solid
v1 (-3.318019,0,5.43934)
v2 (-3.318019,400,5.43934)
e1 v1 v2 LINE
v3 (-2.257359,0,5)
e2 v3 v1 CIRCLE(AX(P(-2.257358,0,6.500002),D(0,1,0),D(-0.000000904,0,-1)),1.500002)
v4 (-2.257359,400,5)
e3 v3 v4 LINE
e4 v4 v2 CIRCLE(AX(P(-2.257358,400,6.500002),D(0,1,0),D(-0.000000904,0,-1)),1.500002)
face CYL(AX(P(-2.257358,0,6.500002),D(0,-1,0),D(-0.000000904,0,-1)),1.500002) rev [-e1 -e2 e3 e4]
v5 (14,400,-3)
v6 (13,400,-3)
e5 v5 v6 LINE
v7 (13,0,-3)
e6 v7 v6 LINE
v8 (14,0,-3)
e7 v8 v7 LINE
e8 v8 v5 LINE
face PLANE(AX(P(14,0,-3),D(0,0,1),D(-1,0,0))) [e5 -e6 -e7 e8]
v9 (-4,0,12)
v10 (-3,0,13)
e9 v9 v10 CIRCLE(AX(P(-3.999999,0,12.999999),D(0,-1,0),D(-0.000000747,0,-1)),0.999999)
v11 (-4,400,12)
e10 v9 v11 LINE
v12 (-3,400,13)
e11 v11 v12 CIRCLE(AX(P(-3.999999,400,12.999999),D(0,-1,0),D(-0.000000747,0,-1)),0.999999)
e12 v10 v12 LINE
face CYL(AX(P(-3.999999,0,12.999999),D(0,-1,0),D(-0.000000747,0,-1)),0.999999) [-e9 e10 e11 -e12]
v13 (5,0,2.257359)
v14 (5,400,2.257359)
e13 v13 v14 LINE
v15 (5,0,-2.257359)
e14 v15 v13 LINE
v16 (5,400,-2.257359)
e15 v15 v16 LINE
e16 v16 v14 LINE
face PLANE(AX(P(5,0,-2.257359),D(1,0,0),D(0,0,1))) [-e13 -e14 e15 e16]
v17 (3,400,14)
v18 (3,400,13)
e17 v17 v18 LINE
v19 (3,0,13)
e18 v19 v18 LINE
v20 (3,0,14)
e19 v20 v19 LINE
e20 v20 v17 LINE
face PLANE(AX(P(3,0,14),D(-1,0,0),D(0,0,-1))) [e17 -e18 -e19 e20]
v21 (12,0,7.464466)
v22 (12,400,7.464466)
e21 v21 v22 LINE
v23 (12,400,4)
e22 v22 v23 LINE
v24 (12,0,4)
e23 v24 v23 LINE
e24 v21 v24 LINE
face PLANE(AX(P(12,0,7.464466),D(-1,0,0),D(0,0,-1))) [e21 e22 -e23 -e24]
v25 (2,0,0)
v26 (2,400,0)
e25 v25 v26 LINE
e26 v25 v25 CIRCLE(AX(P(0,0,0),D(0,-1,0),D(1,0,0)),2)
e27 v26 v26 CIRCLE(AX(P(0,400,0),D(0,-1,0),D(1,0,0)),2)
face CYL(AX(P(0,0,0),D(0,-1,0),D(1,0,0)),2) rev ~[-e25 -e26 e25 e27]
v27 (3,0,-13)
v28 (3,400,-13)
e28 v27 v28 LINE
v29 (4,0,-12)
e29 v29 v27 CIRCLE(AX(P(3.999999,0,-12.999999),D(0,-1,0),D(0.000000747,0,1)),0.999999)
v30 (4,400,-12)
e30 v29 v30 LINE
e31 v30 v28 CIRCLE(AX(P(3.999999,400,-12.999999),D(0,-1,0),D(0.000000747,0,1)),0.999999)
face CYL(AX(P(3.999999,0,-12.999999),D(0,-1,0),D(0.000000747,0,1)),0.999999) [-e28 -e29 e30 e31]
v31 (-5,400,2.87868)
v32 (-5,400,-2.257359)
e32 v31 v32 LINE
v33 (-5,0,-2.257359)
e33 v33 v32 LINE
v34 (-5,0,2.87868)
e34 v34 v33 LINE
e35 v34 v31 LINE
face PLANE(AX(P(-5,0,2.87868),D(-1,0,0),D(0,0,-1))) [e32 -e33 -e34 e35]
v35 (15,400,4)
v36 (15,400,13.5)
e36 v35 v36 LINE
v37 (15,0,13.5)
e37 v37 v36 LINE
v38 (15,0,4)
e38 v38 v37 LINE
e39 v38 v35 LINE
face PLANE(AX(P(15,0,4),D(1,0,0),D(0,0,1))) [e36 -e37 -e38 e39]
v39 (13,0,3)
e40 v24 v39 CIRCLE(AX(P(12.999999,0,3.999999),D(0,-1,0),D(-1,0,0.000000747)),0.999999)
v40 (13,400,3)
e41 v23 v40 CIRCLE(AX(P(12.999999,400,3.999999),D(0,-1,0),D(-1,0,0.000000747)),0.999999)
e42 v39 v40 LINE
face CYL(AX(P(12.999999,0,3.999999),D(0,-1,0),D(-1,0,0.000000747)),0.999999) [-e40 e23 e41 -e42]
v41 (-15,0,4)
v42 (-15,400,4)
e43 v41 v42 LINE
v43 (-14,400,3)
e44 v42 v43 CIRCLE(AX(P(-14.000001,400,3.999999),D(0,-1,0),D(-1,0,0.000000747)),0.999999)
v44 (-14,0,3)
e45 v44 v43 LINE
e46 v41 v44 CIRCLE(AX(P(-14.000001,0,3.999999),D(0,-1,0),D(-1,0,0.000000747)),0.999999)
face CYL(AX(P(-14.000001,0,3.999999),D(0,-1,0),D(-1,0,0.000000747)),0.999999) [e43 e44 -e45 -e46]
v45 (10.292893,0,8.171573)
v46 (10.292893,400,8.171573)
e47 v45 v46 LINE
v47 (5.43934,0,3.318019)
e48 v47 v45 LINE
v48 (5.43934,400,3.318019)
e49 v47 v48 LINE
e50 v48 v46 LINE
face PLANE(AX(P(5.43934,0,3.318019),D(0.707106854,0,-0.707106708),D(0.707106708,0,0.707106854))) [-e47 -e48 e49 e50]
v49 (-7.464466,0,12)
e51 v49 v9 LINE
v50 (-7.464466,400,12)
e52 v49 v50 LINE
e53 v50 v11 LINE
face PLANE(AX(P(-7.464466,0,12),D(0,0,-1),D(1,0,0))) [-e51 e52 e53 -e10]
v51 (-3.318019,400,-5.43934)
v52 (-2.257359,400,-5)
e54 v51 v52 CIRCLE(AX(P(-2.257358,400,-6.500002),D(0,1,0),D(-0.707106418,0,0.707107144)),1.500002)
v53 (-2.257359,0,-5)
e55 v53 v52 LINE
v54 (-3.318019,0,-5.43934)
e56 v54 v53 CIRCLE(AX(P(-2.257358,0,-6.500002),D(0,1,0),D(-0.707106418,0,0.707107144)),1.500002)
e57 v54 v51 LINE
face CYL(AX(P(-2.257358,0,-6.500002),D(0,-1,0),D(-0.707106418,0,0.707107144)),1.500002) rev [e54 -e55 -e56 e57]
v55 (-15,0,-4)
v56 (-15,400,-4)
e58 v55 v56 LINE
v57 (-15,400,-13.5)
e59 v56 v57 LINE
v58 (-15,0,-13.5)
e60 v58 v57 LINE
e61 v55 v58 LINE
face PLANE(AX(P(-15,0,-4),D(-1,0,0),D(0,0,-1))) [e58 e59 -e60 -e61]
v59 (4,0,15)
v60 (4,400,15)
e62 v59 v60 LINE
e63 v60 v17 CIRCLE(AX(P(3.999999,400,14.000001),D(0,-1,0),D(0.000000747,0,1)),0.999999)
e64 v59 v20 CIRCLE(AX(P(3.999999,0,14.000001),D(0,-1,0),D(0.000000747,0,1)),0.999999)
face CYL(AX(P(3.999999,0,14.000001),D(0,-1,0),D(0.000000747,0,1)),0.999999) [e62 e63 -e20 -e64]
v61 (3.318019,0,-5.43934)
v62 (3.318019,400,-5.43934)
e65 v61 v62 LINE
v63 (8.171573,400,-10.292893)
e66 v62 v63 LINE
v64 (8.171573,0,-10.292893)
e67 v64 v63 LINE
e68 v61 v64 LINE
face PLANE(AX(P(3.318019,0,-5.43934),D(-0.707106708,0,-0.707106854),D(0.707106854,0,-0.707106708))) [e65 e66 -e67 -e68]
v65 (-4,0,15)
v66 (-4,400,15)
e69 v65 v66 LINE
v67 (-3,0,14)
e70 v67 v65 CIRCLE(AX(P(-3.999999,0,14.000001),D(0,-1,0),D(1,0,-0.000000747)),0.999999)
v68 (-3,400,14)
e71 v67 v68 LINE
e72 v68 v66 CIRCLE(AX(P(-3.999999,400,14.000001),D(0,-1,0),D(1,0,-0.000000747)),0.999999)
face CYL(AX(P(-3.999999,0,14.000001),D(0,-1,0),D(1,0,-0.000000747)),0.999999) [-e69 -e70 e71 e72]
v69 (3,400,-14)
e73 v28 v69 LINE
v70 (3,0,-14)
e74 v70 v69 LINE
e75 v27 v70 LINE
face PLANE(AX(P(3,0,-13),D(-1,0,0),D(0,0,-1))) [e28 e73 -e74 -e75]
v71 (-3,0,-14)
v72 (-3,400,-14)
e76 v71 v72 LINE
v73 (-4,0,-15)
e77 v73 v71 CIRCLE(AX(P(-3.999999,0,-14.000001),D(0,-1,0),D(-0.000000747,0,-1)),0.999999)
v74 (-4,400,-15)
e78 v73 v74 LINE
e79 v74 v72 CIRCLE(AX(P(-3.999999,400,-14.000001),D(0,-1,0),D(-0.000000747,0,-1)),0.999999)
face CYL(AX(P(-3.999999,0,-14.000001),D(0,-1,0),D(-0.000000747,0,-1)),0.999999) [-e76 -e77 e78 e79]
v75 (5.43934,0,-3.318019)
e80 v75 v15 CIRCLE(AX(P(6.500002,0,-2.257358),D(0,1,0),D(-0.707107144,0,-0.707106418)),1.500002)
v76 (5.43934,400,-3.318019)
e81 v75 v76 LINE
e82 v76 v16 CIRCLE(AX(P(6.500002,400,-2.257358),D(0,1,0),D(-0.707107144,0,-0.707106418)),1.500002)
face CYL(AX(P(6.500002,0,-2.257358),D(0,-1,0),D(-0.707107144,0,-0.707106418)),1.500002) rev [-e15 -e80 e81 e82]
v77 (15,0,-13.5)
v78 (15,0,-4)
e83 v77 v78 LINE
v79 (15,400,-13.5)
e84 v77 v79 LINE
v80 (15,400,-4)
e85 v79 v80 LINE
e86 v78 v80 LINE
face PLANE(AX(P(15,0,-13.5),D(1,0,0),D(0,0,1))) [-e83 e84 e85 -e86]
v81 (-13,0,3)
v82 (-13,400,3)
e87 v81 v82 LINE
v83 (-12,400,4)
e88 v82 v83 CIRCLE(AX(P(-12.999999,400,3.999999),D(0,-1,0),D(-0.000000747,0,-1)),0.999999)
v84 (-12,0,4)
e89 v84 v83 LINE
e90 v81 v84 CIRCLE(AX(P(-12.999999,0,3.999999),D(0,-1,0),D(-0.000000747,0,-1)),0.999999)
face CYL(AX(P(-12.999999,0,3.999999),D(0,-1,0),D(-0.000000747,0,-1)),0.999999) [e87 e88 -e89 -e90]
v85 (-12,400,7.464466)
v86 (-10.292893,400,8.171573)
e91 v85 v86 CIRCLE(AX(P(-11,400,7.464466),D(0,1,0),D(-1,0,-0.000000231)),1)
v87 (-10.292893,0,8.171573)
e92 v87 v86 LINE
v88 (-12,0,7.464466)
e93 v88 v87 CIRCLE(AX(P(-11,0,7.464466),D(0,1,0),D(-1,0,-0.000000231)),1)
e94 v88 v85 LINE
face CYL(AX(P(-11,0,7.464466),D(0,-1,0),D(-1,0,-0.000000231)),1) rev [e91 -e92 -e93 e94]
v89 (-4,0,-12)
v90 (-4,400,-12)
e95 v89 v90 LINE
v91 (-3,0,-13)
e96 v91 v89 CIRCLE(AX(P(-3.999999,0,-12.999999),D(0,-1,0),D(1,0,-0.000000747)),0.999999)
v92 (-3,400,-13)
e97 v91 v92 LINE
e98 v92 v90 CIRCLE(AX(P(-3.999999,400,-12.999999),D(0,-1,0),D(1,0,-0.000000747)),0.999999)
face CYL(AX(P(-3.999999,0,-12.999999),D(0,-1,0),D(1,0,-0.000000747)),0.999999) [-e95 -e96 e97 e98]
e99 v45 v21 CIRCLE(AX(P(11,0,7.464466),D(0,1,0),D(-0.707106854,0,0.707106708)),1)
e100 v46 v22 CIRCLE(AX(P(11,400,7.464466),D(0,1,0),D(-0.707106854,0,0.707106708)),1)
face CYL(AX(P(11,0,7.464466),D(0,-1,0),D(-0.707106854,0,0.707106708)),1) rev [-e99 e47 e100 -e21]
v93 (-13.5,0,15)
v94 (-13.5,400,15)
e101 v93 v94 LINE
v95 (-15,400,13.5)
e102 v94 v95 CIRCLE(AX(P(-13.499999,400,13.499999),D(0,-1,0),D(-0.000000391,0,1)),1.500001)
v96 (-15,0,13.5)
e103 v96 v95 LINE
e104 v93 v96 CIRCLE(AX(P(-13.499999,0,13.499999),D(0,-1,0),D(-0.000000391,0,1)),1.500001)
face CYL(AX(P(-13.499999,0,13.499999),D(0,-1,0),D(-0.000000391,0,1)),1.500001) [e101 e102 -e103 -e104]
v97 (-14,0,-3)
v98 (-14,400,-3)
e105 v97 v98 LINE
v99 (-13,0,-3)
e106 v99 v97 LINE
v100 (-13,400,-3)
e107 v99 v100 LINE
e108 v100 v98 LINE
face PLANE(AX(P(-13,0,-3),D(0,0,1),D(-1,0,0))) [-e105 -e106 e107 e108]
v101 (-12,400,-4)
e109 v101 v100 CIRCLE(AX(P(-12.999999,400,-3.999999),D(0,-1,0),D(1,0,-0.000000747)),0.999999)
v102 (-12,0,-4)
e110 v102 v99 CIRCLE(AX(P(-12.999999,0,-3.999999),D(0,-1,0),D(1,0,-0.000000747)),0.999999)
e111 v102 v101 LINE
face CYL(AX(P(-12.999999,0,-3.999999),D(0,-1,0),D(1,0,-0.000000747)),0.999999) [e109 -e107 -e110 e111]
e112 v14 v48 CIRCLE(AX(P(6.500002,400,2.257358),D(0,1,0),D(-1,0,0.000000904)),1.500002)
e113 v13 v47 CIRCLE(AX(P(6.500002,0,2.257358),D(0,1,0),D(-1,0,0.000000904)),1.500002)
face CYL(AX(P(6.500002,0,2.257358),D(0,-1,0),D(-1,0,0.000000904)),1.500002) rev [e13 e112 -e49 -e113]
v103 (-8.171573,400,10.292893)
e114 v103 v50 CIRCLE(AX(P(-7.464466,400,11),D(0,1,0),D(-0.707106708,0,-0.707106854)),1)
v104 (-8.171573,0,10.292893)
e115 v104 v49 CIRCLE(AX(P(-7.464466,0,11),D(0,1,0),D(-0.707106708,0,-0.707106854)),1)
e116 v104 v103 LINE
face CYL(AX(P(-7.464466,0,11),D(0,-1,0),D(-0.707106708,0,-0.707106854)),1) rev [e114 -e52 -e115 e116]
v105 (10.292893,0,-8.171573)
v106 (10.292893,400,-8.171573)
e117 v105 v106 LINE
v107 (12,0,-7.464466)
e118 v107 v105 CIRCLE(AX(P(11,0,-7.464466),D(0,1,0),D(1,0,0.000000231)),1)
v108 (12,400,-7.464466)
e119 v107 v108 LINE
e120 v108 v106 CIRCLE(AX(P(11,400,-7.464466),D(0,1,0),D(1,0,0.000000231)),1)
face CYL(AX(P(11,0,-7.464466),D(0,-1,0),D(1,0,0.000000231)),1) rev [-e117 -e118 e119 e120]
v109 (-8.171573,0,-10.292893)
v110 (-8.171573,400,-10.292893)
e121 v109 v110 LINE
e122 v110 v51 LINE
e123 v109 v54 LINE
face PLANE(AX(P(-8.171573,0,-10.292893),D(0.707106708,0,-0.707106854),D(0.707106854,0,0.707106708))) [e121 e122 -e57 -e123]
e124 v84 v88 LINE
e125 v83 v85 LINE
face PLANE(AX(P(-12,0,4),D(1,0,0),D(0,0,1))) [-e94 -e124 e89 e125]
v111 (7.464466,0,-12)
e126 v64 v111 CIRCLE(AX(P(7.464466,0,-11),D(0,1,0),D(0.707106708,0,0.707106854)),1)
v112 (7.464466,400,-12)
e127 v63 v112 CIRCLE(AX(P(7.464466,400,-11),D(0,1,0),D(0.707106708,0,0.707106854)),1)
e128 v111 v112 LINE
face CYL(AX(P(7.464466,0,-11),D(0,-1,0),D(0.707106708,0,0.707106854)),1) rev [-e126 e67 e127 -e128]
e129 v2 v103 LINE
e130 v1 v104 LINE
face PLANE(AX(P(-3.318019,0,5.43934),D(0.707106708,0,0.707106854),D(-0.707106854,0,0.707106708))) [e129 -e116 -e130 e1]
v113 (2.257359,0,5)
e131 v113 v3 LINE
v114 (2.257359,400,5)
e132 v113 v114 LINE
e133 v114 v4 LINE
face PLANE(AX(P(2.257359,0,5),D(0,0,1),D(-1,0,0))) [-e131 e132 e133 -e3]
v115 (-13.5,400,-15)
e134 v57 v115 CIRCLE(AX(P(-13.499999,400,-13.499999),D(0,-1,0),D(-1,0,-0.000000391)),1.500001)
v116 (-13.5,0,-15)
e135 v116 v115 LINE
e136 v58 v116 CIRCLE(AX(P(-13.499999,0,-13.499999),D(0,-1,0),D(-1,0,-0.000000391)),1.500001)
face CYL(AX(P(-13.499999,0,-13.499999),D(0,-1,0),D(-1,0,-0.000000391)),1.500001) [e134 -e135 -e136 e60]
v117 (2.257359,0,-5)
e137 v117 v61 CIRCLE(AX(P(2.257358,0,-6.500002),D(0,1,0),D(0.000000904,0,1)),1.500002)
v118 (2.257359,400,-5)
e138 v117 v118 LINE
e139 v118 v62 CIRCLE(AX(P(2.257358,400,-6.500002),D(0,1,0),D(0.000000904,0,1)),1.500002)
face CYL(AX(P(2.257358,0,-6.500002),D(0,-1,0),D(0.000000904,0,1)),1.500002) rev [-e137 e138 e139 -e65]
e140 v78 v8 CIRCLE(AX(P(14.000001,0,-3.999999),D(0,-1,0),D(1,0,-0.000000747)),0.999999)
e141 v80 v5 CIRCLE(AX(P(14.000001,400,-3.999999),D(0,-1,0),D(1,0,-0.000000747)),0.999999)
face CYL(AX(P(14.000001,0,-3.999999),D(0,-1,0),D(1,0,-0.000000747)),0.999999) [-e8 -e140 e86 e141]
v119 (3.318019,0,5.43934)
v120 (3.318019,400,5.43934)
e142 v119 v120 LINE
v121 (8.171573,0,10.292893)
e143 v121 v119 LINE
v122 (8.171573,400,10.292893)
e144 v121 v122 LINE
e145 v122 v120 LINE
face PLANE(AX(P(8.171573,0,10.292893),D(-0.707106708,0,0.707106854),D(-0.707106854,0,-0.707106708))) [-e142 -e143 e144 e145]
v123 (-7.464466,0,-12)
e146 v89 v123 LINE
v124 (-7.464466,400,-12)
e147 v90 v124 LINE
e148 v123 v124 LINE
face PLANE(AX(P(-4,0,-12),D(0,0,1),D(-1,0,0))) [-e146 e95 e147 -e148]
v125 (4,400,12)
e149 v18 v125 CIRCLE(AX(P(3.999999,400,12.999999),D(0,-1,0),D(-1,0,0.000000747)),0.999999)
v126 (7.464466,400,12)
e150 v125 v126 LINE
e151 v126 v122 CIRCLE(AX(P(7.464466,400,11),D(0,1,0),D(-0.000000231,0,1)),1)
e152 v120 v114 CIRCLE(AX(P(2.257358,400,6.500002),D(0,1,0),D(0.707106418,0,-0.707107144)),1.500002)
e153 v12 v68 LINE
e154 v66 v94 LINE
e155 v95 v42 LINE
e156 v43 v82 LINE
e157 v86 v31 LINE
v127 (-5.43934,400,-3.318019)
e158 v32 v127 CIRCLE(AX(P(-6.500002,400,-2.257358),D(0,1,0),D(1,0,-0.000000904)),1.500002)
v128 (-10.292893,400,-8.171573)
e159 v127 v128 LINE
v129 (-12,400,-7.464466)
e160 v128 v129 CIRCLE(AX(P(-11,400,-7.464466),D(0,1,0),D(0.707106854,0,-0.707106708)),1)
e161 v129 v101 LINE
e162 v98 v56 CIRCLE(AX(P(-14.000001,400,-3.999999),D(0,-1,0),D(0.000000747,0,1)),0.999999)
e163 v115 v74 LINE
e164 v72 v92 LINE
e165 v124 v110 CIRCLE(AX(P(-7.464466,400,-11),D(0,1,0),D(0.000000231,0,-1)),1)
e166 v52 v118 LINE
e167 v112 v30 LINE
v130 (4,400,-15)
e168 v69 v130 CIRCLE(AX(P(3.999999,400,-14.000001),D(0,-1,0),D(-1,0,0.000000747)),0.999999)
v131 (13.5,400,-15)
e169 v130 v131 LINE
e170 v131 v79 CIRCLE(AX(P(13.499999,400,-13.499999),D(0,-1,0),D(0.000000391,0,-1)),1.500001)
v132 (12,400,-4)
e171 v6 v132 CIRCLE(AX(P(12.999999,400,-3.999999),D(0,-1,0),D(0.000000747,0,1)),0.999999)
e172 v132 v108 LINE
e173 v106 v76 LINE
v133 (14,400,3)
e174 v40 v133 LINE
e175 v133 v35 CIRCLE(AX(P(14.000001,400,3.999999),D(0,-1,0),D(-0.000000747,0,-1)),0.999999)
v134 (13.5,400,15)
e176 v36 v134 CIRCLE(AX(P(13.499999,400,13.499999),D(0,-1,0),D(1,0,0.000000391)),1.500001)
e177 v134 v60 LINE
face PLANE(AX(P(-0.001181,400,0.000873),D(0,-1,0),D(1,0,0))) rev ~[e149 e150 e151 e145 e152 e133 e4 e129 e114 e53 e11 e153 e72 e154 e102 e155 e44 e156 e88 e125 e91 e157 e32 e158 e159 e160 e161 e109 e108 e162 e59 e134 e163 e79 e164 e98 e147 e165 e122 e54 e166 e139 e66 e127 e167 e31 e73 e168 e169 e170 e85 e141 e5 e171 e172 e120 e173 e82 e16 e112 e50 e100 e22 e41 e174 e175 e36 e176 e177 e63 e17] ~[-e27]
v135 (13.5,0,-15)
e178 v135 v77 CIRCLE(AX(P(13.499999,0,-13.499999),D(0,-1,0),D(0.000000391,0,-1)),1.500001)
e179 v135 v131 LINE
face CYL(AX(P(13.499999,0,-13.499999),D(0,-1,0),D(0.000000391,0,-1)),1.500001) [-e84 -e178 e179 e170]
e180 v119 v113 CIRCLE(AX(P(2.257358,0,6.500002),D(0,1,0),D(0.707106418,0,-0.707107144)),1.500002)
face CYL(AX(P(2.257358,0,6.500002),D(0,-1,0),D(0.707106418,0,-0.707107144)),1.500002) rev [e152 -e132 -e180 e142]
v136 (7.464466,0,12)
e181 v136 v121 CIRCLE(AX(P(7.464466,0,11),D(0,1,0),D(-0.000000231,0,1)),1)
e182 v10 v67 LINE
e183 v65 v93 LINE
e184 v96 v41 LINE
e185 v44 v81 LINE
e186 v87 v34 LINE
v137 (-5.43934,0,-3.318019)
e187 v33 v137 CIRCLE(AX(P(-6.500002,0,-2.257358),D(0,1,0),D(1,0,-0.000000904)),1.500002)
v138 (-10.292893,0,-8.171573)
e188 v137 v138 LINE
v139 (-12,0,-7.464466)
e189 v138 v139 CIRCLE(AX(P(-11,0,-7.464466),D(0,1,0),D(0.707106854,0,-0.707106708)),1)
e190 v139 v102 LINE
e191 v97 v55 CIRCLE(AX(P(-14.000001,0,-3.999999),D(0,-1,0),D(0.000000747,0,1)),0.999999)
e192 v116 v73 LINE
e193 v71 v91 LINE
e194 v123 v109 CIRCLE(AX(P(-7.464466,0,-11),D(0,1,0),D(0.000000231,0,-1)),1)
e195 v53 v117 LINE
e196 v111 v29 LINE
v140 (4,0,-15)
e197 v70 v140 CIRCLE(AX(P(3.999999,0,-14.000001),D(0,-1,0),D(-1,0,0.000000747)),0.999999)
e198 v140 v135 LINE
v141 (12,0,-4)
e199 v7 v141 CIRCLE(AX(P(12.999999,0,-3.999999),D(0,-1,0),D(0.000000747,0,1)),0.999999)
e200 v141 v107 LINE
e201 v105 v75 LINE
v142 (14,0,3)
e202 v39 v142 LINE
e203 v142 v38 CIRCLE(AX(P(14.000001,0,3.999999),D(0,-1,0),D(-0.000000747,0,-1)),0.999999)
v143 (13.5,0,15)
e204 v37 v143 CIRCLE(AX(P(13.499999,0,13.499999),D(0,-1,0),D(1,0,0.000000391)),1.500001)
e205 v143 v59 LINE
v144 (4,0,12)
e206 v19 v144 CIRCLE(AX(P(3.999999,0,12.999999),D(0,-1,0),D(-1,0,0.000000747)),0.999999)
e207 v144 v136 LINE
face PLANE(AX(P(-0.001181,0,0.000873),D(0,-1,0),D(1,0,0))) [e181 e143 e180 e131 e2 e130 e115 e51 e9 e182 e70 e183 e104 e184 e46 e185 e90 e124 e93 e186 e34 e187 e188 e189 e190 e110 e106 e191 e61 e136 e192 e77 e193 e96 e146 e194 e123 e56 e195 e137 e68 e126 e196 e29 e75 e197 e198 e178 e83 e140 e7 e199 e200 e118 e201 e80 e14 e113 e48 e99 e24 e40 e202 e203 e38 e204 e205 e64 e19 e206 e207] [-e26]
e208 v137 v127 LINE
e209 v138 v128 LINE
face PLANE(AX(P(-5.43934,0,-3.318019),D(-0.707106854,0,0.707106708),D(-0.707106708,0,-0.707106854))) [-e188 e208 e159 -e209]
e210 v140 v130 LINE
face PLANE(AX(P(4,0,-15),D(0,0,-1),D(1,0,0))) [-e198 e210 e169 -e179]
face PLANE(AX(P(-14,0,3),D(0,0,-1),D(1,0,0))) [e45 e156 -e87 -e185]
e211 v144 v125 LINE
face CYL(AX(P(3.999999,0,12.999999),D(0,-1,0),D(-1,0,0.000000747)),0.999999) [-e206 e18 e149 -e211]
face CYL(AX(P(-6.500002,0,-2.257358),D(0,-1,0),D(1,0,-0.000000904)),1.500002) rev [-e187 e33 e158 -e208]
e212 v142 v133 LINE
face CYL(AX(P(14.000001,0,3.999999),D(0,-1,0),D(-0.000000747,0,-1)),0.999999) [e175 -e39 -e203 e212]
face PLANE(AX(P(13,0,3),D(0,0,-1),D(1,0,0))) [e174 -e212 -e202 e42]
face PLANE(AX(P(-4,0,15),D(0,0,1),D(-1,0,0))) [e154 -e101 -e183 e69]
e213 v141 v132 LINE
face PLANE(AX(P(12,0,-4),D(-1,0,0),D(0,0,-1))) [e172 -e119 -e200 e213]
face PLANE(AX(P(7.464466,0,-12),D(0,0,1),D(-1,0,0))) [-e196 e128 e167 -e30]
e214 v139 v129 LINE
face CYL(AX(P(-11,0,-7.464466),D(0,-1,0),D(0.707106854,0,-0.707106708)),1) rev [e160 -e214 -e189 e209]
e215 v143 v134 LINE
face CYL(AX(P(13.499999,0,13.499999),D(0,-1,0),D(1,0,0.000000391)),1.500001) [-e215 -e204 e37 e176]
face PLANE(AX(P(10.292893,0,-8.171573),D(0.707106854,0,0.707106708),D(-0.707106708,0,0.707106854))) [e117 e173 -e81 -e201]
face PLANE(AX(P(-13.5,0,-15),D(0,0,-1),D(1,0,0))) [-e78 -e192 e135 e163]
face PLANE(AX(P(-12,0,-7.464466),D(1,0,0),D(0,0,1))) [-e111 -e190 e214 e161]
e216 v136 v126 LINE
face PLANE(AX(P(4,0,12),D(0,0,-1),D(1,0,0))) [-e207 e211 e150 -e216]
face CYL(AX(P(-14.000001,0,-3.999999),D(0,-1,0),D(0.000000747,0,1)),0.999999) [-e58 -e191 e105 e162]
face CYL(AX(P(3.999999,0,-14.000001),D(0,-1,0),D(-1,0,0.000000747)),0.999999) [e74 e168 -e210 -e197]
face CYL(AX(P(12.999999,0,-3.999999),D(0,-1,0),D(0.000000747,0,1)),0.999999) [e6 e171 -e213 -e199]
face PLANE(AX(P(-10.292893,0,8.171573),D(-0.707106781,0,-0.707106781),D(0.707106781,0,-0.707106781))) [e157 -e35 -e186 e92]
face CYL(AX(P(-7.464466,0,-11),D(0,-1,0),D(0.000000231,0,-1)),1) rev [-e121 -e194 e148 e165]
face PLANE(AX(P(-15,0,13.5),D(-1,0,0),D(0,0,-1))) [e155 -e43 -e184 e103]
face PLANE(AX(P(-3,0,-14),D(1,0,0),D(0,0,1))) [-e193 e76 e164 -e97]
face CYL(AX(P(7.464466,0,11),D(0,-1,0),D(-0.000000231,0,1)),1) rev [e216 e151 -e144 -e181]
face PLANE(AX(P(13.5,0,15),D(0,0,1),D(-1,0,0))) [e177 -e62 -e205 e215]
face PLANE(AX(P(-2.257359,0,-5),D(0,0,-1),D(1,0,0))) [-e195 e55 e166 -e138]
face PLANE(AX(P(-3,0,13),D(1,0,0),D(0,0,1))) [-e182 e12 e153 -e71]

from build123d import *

# Parameters (mm, degrees)
F0_R     = 2
F1_DEPTH = 400


with BuildPart() as f1:
    # F0 (on Front) → F1 (new body)
    with BuildSketch(Plane.XZ):
        with BuildLine():
            ThreePointArc((15, 13.5), (14.56066, 14.56066), (13.5, 15))
            Line((13.5, 15), (4, 15))
            ThreePointArc((4, 15), (3.292893, 14.707107), (3, 14))
            Line((3, 14), (3, 13))
            ThreePointArc((3, 13), (3.292893, 12.292893), (4, 12))
            Line((4, 12), (7.464466, 12))
            ThreePointArc((7.464466, 12), (8.388346, 11.382683), (8.171573, 10.292893))
            Line((8.171573, 10.292893), (3.318019, 5.43934))
            ThreePointArc((3.318019, 5.43934), (2.831384, 5.114181), (2.257359, 5))
            Line((2.257359, 5), (-2.257359, 5))
            ThreePointArc((-2.257359, 5), (-2.831384, 5.114181), (-3.318019, 5.43934))
            Line((-3.318019, 5.43934), (-8.171573, 10.292893))
            ThreePointArc((-8.171573, 10.292893), (-8.388346, 11.382683), (-7.464466, 12))
            Line((-7.464466, 12), (-4, 12))
            ThreePointArc((-4, 12), (-3.292893, 12.292893), (-3, 13))
            Line((-3, 13), (-3, 14))
            ThreePointArc((-3, 14), (-3.292893, 14.707107), (-4, 15))
            Line((-4, 15), (-13.5, 15))
            ThreePointArc((-13.5, 15), (-14.56066, 14.56066), (-15, 13.5))
            Line((-15, 13.5), (-15, 4))
            ThreePointArc((-15, 4), (-14.707107, 3.292893), (-14, 3))
            Line((-14, 3), (-13, 3))
            ThreePointArc((-13, 3), (-12.292893, 3.292893), (-12, 4))
            Line((-12, 4), (-12, 7.464466))
            ThreePointArc((-12, 7.464466), (-11.382683, 8.388346), (-10.292893, 8.171573))
            Line((-10.292893, 8.171573), (-5, 2.87868))
            Line((-5, 2.87868), (-5, -2.257359))
            ThreePointArc((-5, -2.257359), (-5.114181, -2.831384), (-5.43934, -3.318019))
            Line((-5.43934, -3.318019), (-10.292893, -8.171573))
            ThreePointArc((-10.292893, -8.171573), (-11.382683, -8.388346), (-12, -7.464466))
            Line((-12, -7.464466), (-12, -4))
            ThreePointArc((-12, -4), (-12.292893, -3.292893), (-13, -3))
            Line((-13, -3), (-14, -3))
            ThreePointArc((-14, -3), (-14.707107, -3.292893), (-15, -4))
            Line((-15, -4), (-15, -13.5))
            ThreePointArc((-15, -13.5), (-14.56066, -14.56066), (-13.5, -15))
            Line((-13.5, -15), (-4, -15))
            ThreePointArc((-4, -15), (-3.292893, -14.707107), (-3, -14))
            Line((-3, -14), (-3, -13))
            ThreePointArc((-3, -13), (-3.292893, -12.292893), (-4, -12))
            Line((-4, -12), (-7.464466, -12))
            ThreePointArc((-7.464466, -12), (-8.388346, -11.382683), (-8.171573, -10.292893))
            Line((-8.171573, -10.292893), (-3.318019, -5.43934))
            ThreePointArc((-3.318019, -5.43934), (-2.831384, -5.114181), (-2.257359, -5))
            Line((-2.257359, -5), (2.257359, -5))
            ThreePointArc((2.257359, -5), (2.831384, -5.114181), (3.318019, -5.43934))
            Line((3.318019, -5.43934), (8.171573, -10.292893))
            ThreePointArc((8.171573, -10.292893), (8.388346, -11.382683), (7.464466, -12))
            Line((7.464466, -12), (4, -12))
            ThreePointArc((4, -12), (3.292893, -12.292893), (3, -13))
            Line((3, -13), (3, -14))
            ThreePointArc((3, -14), (3.292893, -14.707107), (4, -15))
            Line((4, -15), (13.5, -15))
            ThreePointArc((13.5, -15), (14.56066, -14.56066), (15, -13.5))
            Line((15, -13.5), (15, -4))
            ThreePointArc((15, -4), (14.707107, -3.292893), (14, -3))
            Line((14, -3), (13, -3))
            ThreePointArc((13, -3), (12.292893, -3.292893), (12, -4))
            Line((12, -4), (12, -7.464466))
            ThreePointArc((12, -7.464466), (11.382683, -8.388346), (10.292893, -8.171573))
            Line((10.292893, -8.171573), (5.43934, -3.318019))
            ThreePointArc((5.43934, -3.318019), (5.114181, -2.831384), (5, -2.257359))
            Line((5, -2.257359), (5, 2.257359))
            ThreePointArc((5, 2.257359), (5.114181, 2.831384), (5.43934, 3.318019))
            Line((5.43934, 3.318019), (10.292893, 8.171573))
            ThreePointArc((10.292893, 8.171573), (11.382683, 8.388346), (12, 7.464466))
            Line((12, 7.464466), (12, 4))
            ThreePointArc((12, 4), (12.292893, 3.292893), (13, 3))
            Line((13, 3), (14, 3))
            ThreePointArc((14, 3), (14.707107, 3.292893), (15, 4))
            Line((15, 4), (15, 13.5))
        make_face()
        Circle(F0_R, mode=Mode.SUBTRACT)
    extrude(amount=-F1_DEPTH)


solid = f1.part
